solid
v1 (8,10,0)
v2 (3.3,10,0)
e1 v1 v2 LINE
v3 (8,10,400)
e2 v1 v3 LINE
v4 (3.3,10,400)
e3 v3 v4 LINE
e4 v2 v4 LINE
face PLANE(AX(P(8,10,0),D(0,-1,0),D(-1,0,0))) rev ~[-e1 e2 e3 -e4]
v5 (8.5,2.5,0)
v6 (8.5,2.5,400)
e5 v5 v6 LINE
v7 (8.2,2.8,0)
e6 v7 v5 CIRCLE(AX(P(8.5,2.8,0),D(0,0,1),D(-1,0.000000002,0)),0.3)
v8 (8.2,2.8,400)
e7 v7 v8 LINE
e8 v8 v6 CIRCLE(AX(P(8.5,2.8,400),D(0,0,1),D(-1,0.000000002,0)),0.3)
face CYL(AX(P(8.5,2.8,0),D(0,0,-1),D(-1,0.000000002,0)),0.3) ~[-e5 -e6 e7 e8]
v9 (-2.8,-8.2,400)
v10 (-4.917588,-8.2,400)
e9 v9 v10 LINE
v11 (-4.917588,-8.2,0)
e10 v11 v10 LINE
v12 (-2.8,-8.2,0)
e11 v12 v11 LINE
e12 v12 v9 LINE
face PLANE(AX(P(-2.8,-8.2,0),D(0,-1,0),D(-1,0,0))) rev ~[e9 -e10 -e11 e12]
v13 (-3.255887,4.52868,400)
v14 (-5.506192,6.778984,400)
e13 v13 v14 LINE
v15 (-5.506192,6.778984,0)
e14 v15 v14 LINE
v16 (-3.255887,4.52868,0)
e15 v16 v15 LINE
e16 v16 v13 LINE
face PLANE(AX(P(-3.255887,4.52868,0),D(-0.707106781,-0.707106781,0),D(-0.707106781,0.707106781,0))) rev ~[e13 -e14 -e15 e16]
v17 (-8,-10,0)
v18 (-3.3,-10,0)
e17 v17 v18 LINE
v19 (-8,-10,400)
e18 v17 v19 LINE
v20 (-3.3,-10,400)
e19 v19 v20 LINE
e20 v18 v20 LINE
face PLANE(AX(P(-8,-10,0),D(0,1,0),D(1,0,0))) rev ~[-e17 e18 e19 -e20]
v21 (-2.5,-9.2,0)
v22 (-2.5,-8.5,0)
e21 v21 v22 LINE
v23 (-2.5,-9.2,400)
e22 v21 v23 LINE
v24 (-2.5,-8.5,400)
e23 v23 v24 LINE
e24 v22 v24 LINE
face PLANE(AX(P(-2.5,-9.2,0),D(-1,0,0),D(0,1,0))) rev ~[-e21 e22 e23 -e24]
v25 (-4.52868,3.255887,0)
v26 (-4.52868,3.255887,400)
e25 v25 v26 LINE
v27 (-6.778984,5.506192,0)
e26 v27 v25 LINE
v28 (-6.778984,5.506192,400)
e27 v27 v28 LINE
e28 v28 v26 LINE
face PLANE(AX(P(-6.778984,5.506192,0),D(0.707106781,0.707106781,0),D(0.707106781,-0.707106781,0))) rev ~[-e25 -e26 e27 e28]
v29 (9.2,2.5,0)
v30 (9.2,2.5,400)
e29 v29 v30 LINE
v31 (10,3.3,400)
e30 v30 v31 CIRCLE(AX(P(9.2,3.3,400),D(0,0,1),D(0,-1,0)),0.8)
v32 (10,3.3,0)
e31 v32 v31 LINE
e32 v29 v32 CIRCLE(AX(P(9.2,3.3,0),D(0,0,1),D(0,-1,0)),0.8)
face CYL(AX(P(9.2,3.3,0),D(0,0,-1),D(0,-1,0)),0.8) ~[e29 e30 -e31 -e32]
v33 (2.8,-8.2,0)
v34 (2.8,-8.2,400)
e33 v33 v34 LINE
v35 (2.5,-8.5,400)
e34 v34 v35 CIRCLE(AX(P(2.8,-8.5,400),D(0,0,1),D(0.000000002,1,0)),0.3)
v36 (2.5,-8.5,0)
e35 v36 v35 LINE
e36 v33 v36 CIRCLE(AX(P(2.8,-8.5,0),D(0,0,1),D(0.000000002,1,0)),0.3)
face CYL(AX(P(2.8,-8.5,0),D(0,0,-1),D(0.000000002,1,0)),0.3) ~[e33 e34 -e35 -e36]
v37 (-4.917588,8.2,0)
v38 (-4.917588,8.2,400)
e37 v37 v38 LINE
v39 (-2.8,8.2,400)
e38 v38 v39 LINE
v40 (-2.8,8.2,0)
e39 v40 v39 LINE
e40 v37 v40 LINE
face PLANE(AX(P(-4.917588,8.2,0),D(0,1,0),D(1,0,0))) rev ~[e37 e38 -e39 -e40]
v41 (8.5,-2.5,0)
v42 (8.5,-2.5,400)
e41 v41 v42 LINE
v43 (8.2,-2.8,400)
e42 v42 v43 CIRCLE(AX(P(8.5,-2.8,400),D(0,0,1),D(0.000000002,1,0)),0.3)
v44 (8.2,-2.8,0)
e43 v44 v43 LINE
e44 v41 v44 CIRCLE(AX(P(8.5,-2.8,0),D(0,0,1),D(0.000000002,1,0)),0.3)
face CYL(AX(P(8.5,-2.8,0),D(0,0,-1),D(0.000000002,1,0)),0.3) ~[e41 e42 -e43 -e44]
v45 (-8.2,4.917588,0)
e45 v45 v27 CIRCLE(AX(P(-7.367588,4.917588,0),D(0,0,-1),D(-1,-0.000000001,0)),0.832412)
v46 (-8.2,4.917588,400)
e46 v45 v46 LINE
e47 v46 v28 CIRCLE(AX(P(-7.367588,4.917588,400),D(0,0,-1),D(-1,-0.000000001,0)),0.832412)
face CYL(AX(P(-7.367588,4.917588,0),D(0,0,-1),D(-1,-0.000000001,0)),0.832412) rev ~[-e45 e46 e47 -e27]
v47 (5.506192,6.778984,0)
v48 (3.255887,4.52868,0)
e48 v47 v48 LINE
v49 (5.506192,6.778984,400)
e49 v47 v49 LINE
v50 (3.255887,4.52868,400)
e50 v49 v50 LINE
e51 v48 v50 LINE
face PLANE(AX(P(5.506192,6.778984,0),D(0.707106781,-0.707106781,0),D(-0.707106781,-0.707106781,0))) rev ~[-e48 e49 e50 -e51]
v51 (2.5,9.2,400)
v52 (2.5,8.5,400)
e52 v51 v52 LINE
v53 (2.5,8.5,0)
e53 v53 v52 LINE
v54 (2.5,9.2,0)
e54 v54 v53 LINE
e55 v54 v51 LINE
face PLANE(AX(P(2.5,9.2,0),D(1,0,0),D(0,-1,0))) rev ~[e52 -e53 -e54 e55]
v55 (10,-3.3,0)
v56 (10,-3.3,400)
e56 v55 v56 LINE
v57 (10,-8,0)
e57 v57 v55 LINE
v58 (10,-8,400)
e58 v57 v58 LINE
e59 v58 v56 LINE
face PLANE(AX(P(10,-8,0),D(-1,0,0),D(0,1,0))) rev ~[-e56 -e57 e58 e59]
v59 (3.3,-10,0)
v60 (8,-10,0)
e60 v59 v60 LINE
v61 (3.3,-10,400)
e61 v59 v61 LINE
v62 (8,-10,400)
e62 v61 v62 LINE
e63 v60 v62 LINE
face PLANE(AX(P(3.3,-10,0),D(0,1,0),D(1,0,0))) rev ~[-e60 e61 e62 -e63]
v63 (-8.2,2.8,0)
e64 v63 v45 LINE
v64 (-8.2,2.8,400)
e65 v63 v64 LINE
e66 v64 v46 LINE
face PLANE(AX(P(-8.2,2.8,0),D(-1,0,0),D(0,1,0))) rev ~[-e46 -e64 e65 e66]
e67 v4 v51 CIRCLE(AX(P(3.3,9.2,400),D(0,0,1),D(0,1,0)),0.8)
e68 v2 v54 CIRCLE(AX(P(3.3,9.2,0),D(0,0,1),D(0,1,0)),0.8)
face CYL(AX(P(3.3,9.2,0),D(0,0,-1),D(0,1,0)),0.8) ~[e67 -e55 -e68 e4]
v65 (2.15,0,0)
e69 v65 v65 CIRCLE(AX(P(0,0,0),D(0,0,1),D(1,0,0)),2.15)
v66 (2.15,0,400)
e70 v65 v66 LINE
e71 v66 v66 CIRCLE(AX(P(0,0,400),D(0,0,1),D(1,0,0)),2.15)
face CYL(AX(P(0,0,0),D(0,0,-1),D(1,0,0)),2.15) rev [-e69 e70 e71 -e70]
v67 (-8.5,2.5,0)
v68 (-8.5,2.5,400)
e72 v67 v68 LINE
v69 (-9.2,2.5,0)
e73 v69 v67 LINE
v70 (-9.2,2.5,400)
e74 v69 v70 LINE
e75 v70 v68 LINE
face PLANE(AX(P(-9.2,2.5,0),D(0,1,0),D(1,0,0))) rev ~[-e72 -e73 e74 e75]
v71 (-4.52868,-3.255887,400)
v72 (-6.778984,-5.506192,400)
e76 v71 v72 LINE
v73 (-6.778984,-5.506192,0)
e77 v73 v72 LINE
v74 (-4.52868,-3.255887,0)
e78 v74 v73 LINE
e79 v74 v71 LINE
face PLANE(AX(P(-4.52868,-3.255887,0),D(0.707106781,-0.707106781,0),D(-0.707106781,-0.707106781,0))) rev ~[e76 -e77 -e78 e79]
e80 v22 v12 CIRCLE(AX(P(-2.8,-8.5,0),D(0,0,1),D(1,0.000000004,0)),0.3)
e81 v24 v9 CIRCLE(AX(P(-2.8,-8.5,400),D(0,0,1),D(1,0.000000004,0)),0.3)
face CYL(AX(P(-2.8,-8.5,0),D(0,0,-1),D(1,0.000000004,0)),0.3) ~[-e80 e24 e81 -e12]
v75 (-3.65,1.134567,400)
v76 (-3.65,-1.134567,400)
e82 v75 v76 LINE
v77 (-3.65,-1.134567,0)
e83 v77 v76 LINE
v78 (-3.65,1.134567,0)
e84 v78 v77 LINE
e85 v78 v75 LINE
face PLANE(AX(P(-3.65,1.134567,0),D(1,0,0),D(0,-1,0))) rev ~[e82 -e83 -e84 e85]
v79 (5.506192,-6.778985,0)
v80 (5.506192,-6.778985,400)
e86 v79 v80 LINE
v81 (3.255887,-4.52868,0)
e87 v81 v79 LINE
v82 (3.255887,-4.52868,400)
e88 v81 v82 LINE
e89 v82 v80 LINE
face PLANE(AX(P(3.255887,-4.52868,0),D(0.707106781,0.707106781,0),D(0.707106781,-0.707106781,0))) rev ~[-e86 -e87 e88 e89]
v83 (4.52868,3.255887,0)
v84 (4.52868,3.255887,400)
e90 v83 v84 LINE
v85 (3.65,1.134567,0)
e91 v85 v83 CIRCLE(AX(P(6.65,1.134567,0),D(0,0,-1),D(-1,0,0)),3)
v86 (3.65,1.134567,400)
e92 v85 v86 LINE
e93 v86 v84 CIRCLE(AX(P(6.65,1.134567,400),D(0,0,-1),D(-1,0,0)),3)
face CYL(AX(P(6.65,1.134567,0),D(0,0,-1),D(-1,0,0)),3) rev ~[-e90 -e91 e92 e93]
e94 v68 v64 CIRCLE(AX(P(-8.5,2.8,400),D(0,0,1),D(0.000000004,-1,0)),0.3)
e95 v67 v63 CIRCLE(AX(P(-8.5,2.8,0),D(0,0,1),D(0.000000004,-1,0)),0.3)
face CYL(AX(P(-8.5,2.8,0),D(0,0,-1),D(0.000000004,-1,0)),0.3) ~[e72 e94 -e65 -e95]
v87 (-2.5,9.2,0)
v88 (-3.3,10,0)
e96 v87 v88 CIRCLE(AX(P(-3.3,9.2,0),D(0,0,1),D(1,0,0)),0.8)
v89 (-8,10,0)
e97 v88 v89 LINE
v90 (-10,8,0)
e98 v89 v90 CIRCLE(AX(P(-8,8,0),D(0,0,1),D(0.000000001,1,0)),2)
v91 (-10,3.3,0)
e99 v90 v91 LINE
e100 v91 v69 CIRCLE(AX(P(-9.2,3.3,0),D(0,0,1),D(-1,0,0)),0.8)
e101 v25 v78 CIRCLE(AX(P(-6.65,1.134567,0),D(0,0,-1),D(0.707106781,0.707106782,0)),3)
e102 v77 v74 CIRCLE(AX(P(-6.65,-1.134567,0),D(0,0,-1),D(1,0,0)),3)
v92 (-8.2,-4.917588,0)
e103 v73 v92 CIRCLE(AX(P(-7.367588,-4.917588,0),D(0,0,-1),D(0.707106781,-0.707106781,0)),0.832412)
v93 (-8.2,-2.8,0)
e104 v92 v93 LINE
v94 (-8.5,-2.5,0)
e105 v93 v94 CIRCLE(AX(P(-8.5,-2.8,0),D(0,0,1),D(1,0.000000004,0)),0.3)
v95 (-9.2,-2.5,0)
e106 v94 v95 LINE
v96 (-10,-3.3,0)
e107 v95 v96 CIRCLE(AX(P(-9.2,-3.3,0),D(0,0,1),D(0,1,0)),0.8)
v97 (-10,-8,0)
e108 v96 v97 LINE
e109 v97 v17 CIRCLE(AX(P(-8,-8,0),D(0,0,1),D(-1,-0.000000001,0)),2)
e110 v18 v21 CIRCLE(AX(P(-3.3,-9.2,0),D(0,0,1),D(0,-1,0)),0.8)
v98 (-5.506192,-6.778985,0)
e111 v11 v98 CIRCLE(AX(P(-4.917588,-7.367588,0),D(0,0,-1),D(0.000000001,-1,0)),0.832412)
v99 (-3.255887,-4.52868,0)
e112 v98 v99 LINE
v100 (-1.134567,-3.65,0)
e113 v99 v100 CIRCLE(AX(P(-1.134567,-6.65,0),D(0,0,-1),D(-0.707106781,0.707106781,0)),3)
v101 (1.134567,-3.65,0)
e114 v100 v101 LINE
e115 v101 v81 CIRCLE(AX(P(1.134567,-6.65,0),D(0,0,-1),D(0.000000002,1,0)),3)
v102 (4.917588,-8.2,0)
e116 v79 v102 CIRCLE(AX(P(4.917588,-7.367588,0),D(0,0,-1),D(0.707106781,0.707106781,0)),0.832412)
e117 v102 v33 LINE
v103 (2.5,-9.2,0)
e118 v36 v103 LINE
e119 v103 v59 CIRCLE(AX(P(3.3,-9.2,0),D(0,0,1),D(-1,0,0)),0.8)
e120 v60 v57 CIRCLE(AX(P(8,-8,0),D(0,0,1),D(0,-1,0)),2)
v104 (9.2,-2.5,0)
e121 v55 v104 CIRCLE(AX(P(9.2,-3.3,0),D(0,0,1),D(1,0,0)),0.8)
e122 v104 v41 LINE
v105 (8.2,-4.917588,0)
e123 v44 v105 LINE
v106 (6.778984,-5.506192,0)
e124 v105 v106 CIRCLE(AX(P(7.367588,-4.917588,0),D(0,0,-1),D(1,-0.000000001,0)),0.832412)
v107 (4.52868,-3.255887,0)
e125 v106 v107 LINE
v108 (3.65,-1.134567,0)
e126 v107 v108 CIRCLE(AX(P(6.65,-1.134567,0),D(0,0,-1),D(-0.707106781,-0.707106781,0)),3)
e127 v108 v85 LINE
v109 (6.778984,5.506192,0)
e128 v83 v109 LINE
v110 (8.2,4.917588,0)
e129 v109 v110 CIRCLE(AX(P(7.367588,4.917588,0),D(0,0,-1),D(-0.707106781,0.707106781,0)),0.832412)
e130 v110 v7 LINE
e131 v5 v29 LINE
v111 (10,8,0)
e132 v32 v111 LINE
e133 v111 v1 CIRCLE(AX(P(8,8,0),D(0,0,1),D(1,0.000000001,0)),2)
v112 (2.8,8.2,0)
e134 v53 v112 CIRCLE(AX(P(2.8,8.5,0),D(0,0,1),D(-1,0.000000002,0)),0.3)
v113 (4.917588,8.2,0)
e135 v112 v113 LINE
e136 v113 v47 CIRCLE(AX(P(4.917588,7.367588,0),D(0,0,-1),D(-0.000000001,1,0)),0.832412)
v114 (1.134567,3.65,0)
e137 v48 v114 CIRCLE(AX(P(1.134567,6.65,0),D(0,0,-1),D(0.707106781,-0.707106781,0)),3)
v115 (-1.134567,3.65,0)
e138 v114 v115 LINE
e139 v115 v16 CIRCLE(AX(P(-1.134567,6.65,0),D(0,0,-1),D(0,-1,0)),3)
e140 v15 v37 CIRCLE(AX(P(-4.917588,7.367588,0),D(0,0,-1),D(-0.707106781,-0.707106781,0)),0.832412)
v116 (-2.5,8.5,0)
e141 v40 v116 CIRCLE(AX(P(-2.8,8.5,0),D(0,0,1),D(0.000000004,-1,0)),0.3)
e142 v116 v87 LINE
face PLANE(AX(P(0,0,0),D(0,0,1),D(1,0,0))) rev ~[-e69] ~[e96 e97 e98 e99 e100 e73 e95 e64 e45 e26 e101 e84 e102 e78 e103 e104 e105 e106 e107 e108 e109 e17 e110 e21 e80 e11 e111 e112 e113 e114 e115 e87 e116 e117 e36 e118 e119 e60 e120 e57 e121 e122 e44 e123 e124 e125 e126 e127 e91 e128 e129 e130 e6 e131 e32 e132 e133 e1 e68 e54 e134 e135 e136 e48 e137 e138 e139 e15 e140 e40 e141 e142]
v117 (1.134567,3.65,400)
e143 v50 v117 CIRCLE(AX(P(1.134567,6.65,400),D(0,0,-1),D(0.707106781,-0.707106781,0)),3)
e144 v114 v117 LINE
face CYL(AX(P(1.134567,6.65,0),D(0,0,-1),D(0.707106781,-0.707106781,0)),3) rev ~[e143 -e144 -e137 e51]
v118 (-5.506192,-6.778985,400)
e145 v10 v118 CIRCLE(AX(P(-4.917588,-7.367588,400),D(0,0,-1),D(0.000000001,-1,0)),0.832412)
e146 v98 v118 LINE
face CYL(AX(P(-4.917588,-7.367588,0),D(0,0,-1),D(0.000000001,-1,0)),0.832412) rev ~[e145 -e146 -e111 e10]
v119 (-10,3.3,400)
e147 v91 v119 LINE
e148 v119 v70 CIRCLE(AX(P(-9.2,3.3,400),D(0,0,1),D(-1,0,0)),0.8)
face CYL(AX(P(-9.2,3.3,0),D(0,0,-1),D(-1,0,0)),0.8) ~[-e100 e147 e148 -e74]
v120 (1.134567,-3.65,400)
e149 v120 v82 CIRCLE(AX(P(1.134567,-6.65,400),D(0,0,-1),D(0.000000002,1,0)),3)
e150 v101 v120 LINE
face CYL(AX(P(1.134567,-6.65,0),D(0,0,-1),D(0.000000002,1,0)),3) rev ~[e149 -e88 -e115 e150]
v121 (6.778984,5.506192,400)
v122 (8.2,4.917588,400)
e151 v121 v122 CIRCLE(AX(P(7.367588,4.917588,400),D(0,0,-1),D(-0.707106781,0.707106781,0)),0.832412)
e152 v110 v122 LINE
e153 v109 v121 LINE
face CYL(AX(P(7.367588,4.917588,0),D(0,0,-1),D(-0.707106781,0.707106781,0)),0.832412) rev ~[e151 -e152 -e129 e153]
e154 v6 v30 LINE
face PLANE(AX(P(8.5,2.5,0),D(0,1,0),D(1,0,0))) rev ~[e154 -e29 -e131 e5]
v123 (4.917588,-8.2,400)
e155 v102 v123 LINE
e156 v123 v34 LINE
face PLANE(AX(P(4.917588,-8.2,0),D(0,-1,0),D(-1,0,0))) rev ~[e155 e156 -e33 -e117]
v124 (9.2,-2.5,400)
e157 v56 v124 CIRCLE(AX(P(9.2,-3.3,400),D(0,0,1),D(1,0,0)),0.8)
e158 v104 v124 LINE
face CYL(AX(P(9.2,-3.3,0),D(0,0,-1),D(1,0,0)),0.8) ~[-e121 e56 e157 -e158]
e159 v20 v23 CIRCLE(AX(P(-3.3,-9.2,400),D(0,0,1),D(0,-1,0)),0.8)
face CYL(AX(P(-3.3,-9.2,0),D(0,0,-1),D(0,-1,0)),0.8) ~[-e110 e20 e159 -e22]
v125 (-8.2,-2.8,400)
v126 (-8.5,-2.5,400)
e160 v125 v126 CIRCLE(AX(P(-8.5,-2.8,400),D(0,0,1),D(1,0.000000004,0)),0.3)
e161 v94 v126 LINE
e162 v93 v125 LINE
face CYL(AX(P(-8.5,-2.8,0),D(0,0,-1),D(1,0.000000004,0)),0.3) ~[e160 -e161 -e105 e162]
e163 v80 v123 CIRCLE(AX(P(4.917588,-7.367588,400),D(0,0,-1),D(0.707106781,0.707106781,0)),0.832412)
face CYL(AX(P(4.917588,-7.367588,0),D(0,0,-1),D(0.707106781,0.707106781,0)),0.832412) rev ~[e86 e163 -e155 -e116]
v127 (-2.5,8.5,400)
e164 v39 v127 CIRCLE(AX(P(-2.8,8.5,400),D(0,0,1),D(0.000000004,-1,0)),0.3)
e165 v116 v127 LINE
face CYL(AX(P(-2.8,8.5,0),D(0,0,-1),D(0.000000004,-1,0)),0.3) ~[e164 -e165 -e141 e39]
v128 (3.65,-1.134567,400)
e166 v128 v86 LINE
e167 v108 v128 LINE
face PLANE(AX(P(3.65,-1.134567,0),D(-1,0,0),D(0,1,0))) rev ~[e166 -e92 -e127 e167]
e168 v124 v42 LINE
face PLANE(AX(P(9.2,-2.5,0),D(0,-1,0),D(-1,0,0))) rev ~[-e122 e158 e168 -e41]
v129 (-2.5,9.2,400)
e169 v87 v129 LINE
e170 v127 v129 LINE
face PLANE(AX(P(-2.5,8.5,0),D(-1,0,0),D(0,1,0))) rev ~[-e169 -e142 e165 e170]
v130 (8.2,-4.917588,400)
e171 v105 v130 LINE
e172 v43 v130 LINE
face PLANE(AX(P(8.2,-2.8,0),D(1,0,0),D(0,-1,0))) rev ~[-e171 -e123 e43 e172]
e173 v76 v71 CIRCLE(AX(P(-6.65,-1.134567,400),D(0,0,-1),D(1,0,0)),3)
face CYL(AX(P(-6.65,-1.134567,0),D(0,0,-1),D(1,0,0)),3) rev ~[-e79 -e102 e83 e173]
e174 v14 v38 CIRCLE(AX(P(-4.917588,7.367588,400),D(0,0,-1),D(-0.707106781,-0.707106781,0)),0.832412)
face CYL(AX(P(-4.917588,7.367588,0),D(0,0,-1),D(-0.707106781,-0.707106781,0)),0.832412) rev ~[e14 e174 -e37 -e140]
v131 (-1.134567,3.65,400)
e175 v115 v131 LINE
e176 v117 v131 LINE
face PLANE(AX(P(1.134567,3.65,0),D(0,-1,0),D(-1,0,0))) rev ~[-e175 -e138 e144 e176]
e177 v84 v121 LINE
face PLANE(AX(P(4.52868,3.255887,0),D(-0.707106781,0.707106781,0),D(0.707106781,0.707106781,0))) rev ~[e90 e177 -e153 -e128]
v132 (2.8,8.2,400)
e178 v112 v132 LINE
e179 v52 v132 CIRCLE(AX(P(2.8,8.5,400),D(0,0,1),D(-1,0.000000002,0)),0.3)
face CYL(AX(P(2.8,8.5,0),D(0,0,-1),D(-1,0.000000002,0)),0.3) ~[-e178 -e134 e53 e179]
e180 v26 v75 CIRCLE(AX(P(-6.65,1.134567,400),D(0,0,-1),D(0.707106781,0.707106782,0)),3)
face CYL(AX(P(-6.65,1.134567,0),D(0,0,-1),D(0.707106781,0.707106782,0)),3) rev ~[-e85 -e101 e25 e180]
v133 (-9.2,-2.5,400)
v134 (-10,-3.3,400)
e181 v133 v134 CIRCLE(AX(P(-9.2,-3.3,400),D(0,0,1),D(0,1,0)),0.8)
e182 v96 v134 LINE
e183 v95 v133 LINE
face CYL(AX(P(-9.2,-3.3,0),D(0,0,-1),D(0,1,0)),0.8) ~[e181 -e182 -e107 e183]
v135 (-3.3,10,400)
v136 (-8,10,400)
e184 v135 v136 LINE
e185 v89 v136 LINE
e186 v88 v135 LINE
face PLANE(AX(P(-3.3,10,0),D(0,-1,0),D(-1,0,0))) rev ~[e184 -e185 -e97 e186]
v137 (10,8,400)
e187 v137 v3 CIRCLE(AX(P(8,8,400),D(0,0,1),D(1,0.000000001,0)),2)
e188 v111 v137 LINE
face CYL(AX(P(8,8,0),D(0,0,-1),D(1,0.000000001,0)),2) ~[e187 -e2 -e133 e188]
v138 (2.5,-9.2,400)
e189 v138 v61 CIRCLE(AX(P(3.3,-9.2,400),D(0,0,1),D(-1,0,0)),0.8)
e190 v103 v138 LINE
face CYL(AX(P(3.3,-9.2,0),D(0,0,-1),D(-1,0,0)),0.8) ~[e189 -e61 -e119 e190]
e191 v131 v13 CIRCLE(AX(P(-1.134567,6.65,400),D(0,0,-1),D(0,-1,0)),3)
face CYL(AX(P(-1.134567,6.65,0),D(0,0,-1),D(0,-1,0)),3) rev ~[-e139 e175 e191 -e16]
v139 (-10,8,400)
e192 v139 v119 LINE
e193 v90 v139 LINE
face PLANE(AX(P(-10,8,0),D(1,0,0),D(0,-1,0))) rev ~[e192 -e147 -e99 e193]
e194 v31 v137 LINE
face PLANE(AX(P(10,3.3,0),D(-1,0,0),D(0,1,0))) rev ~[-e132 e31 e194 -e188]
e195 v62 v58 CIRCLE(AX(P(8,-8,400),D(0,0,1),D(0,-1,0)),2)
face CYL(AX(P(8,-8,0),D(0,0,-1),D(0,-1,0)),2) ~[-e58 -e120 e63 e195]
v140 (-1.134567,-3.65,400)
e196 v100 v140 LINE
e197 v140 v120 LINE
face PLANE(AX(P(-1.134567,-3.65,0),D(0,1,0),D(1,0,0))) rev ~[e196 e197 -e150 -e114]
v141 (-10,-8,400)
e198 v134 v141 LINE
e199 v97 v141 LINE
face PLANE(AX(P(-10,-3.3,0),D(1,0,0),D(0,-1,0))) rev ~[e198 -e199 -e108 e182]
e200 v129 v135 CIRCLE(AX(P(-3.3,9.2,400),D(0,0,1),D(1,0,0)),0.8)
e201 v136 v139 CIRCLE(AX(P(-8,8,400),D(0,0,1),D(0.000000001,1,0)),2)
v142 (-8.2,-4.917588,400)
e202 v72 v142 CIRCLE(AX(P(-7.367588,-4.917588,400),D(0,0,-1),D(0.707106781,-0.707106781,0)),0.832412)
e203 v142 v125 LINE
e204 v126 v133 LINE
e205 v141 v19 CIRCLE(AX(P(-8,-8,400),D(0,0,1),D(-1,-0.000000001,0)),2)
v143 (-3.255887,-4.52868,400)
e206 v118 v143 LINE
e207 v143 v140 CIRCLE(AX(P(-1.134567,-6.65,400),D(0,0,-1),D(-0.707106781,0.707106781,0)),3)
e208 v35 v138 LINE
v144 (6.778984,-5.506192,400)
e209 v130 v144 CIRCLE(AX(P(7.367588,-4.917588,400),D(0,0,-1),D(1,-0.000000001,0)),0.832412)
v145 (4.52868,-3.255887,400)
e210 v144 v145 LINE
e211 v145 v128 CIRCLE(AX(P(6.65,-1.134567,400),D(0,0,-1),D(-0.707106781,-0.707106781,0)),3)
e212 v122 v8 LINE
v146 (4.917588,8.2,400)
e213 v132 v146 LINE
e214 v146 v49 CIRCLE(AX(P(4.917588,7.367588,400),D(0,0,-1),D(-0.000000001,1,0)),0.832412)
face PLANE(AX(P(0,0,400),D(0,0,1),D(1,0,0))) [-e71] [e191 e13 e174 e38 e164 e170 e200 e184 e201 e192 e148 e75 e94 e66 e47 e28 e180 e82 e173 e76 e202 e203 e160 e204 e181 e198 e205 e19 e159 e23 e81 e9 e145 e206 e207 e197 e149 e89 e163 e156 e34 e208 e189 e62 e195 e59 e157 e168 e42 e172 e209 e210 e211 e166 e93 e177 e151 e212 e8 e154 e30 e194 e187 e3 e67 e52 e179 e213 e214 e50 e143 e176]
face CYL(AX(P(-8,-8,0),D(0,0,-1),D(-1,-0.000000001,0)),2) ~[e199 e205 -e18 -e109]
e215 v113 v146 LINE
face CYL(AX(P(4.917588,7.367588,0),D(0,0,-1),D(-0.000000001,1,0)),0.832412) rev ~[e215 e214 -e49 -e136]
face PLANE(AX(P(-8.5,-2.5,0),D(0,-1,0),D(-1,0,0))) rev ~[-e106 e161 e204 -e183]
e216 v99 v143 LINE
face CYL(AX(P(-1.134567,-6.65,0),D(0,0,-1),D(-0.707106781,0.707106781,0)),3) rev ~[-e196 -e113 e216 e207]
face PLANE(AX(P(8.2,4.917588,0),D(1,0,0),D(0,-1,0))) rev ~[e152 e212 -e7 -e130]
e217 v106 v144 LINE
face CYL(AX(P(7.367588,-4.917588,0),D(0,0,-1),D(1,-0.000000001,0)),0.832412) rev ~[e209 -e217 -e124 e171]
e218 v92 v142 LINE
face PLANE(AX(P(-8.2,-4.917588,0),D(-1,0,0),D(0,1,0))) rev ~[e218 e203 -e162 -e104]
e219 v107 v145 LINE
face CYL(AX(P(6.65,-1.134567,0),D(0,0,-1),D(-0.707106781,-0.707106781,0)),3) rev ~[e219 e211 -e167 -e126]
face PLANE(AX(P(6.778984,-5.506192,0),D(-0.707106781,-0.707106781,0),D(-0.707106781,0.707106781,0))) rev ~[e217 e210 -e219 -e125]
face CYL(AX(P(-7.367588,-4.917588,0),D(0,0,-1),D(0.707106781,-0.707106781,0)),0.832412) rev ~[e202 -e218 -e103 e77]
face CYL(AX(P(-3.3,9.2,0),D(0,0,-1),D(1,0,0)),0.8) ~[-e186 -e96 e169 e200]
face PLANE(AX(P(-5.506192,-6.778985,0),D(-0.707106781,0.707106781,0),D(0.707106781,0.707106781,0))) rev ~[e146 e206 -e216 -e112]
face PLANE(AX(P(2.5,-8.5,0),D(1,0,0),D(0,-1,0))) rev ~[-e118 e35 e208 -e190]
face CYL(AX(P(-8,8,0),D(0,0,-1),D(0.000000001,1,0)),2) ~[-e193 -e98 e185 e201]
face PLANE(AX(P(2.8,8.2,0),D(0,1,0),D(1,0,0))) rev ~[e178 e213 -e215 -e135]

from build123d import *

# Parameters (mm, degrees)
BOSS_EXTRU_1_DEPTH = 400


with BuildPart() as part:
    # Esquisse1 → Boss.-Extru.1 (new body)
    with BuildSketch(Plane.XY):
        with BuildLine():
            Line((-3.255887446, 4.528679645), (-5.506192286, 6.778984485))
            ThreePointArc((-5.506192286, 6.778984485), (-5.686636441, 7.686138511), (-4.917588391, 8.199999989))
            Line((-4.917588391, 8.199999989), (-2.799999991, 8.199999989))
            ThreePointArc((-2.799999991, 8.199999989), (-2.587867957, 8.287867955), (-2.499999991, 8.499999989))
            Line((-2.499999991, 8.499999989), (-2.499999991, 9.199999989))
            ThreePointArc((-2.499999991, 9.199999989), (-2.734314566, 9.765685414), (-3.299999991, 9.999999989))
            Line((-3.299999991, 9.999999989), (-7.999999991, 9.999999989))
            ThreePointArc((-7.999999991, 9.999999989), (-9.414213554, 9.414213552), (-9.999999991, 7.999999989))
            Line((-9.999999991, 7.999999989), (-9.999999991, 3.299999989))
            ThreePointArc((-9.999999991, 3.299999989), (-9.765685416, 2.734314564), (-9.199999991, 2.499999989))
            Line((-9.199999991, 2.499999989), (-8.499999991, 2.499999989))
            ThreePointArc((-8.499999991, 2.499999989), (-8.287867957, 2.587867955), (-8.199999991, 2.799999989))
            Line((-8.199999991, 2.799999989), (-8.199999991, 4.917588389))
            ThreePointArc((-8.199999991, 4.917588389), (-7.686138517, 5.686636433), (-6.778984497, 5.506192279))
            Line((-6.778984497, 5.506192279), (-4.528679657, 3.255887439))
            ThreePointArc((-4.528679657, 3.255887439), (-3.878361403, 2.282617393), (-3.650000001, 1.134567096))
            Line((-3.650000001, 1.134567096), (-3.650000001, -1.134567114))
            ThreePointArc((-3.650000001, -1.134567114), (-3.878361403, -2.282617409), (-4.528679656, -3.255887454))
            Line((-4.528679656, -3.255887454), (-6.778984496, -5.506192294))
            ThreePointArc((-6.778984496, -5.506192294), (-7.686138522, -5.686636449), (-8.2, -4.9175884))
            Line((-8.2, -4.9175884), (-8.2, -2.8))
            ThreePointArc((-8.2, -2.8), (-8.287867966, -2.587867966), (-8.5, -2.5))
            Line((-8.5, -2.5), (-9.2, -2.5))
            ThreePointArc((-9.2, -2.5), (-9.765685425, -2.734314575), (-10, -3.3))
            Line((-10, -3.3), (-10, -8))
            ThreePointArc((-10, -8), (-9.414213562, -9.414213562), (-8, -10))
            Line((-8, -10), (-3.3, -10))
            ThreePointArc((-3.3, -10), (-2.734314575, -9.765685425), (-2.5, -9.2))
            Line((-2.5, -9.2), (-2.5, -8.5))
            ThreePointArc((-2.5, -8.5), (-2.587867966, -8.287867966), (-2.8, -8.2))
            Line((-2.8, -8.2), (-4.9175884, -8.2))
            ThreePointArc((-4.9175884, -8.2), (-5.686636444, -7.686138526), (-5.50619229, -6.778984506))
            Line((-5.50619229, -6.778984506), (-3.25588745, -4.528679666))
            ThreePointArc((-3.25588745, -4.528679666), (-2.282617404, -3.878361412), (-1.134567106, -3.650000009))
            Line((-1.134567106, -3.650000009), (1.134567104, -3.650000009))
            ThreePointArc((1.134567104, -3.650000009), (2.282617399, -3.878361412), (3.255887444, -4.528679664))
            Line((3.255887444, -4.528679664), (5.506192284, -6.778984504))
            ThreePointArc((5.506192284, -6.778984504), (5.686636439, -7.686138531), (4.917588389, -8.200000009))
            Line((4.917588389, -8.200000009), (2.799999989, -8.200000009))
            ThreePointArc((2.799999989, -8.200000009), (2.587867955, -8.287867974), (2.499999989, -8.500000009))
            Line((2.499999989, -8.500000009), (2.499999989, -9.200000009))
            ThreePointArc((2.499999989, -9.200000009), (2.734314564, -9.765685434), (3.299999989, -10.000000009))
            Line((3.299999989, -10.000000009), (7.999999989, -10.000000009))
            ThreePointArc((7.999999989, -10.000000009), (9.414213552, -9.414213571), (9.999999989, -8.000000009))
            Line((9.999999989, -8.000000009), (9.999999989, -3.300000009))
            ThreePointArc((9.999999989, -3.300000009), (9.765685414, -2.734314584), (9.199999989, -2.500000009))
            Line((9.199999989, -2.500000009), (8.499999989, -2.500000009))
            ThreePointArc((8.499999989, -2.500000009), (8.287867955, -2.587867974), (8.199999989, -2.800000009))
            Line((8.199999989, -2.800000009), (8.199999989, -4.917588409))
            ThreePointArc((8.199999989, -4.917588409), (7.686138515, -5.686636452), (6.778984495, -5.506192299))
            Line((6.778984495, -5.506192299), (4.528679655, -3.255887459))
            ThreePointArc((4.528679655, -3.255887459), (3.878361401, -2.282617412), (3.649999999, -1.134567115))
            Line((3.649999999, -1.134567115), (3.649999999, 1.134567095))
            ThreePointArc((3.649999999, 1.134567095), (3.878361401, 2.28261739), (4.528679654, 3.255887435))
            Line((4.528679654, 3.255887435), (6.778984494, 5.506192275))
            ThreePointArc((6.778984494, 5.506192275), (7.68613852, 5.68663643), (8.199999998, 4.917588381))
            Line((8.199999998, 4.917588381), (8.199999998, 2.799999981))
            ThreePointArc((8.199999998, 2.799999981), (8.287867964, 2.587867946), (8.499999998, 2.499999981))
            Line((8.499999998, 2.499999981), (9.199999998, 2.499999981))
            ThreePointArc((9.199999998, 2.499999981), (9.765685423, 2.734314556), (9.999999998, 3.299999981))
            Line((9.999999998, 3.299999981), (9.999999998, 7.999999981))
            ThreePointArc((9.999999998, 7.999999981), (9.41421356, 9.414213543), (7.999999998, 9.999999981))
            Line((7.999999998, 9.999999981), (3.299999998, 9.999999981))
            ThreePointArc((3.299999998, 9.999999981), (2.734314573, 9.765685406), (2.499999998, 9.199999981))
            Line((2.499999998, 9.199999981), (2.499999998, 8.499999981))
            ThreePointArc((2.499999998, 8.499999981), (2.587867964, 8.287867946), (2.799999998, 8.199999981))
            Line((2.799999998, 8.199999981), (4.917588398, 8.199999981))
            ThreePointArc((4.917588398, 8.199999981), (5.686636442, 7.686138507), (5.506192288, 6.778984487))
            Line((5.506192288, 6.778984487), (3.255887448, 4.528679647))
            ThreePointArc((3.255887448, 4.528679647), (2.282617402, 3.878361393), (1.134567104, 3.64999999))
            Line((1.134567104, 3.64999999), (-1.134567106, 3.64999999))
            ThreePointArc((-1.134567106, 3.64999999), (-2.282617401, 3.878361392), (-3.255887446, 4.528679645))
        make_face()
        with BuildLine():
            ThreePointArc((-2.15, 0), (0, -2.15), (2.15, 0))
            ThreePointArc((2.15, 0), (0, 2.15), (-2.15, 0))
        make_face(mode=Mode.SUBTRACT)
    extrude(amount=BOSS_EXTRU_1_DEPTH)


solid = part.part
